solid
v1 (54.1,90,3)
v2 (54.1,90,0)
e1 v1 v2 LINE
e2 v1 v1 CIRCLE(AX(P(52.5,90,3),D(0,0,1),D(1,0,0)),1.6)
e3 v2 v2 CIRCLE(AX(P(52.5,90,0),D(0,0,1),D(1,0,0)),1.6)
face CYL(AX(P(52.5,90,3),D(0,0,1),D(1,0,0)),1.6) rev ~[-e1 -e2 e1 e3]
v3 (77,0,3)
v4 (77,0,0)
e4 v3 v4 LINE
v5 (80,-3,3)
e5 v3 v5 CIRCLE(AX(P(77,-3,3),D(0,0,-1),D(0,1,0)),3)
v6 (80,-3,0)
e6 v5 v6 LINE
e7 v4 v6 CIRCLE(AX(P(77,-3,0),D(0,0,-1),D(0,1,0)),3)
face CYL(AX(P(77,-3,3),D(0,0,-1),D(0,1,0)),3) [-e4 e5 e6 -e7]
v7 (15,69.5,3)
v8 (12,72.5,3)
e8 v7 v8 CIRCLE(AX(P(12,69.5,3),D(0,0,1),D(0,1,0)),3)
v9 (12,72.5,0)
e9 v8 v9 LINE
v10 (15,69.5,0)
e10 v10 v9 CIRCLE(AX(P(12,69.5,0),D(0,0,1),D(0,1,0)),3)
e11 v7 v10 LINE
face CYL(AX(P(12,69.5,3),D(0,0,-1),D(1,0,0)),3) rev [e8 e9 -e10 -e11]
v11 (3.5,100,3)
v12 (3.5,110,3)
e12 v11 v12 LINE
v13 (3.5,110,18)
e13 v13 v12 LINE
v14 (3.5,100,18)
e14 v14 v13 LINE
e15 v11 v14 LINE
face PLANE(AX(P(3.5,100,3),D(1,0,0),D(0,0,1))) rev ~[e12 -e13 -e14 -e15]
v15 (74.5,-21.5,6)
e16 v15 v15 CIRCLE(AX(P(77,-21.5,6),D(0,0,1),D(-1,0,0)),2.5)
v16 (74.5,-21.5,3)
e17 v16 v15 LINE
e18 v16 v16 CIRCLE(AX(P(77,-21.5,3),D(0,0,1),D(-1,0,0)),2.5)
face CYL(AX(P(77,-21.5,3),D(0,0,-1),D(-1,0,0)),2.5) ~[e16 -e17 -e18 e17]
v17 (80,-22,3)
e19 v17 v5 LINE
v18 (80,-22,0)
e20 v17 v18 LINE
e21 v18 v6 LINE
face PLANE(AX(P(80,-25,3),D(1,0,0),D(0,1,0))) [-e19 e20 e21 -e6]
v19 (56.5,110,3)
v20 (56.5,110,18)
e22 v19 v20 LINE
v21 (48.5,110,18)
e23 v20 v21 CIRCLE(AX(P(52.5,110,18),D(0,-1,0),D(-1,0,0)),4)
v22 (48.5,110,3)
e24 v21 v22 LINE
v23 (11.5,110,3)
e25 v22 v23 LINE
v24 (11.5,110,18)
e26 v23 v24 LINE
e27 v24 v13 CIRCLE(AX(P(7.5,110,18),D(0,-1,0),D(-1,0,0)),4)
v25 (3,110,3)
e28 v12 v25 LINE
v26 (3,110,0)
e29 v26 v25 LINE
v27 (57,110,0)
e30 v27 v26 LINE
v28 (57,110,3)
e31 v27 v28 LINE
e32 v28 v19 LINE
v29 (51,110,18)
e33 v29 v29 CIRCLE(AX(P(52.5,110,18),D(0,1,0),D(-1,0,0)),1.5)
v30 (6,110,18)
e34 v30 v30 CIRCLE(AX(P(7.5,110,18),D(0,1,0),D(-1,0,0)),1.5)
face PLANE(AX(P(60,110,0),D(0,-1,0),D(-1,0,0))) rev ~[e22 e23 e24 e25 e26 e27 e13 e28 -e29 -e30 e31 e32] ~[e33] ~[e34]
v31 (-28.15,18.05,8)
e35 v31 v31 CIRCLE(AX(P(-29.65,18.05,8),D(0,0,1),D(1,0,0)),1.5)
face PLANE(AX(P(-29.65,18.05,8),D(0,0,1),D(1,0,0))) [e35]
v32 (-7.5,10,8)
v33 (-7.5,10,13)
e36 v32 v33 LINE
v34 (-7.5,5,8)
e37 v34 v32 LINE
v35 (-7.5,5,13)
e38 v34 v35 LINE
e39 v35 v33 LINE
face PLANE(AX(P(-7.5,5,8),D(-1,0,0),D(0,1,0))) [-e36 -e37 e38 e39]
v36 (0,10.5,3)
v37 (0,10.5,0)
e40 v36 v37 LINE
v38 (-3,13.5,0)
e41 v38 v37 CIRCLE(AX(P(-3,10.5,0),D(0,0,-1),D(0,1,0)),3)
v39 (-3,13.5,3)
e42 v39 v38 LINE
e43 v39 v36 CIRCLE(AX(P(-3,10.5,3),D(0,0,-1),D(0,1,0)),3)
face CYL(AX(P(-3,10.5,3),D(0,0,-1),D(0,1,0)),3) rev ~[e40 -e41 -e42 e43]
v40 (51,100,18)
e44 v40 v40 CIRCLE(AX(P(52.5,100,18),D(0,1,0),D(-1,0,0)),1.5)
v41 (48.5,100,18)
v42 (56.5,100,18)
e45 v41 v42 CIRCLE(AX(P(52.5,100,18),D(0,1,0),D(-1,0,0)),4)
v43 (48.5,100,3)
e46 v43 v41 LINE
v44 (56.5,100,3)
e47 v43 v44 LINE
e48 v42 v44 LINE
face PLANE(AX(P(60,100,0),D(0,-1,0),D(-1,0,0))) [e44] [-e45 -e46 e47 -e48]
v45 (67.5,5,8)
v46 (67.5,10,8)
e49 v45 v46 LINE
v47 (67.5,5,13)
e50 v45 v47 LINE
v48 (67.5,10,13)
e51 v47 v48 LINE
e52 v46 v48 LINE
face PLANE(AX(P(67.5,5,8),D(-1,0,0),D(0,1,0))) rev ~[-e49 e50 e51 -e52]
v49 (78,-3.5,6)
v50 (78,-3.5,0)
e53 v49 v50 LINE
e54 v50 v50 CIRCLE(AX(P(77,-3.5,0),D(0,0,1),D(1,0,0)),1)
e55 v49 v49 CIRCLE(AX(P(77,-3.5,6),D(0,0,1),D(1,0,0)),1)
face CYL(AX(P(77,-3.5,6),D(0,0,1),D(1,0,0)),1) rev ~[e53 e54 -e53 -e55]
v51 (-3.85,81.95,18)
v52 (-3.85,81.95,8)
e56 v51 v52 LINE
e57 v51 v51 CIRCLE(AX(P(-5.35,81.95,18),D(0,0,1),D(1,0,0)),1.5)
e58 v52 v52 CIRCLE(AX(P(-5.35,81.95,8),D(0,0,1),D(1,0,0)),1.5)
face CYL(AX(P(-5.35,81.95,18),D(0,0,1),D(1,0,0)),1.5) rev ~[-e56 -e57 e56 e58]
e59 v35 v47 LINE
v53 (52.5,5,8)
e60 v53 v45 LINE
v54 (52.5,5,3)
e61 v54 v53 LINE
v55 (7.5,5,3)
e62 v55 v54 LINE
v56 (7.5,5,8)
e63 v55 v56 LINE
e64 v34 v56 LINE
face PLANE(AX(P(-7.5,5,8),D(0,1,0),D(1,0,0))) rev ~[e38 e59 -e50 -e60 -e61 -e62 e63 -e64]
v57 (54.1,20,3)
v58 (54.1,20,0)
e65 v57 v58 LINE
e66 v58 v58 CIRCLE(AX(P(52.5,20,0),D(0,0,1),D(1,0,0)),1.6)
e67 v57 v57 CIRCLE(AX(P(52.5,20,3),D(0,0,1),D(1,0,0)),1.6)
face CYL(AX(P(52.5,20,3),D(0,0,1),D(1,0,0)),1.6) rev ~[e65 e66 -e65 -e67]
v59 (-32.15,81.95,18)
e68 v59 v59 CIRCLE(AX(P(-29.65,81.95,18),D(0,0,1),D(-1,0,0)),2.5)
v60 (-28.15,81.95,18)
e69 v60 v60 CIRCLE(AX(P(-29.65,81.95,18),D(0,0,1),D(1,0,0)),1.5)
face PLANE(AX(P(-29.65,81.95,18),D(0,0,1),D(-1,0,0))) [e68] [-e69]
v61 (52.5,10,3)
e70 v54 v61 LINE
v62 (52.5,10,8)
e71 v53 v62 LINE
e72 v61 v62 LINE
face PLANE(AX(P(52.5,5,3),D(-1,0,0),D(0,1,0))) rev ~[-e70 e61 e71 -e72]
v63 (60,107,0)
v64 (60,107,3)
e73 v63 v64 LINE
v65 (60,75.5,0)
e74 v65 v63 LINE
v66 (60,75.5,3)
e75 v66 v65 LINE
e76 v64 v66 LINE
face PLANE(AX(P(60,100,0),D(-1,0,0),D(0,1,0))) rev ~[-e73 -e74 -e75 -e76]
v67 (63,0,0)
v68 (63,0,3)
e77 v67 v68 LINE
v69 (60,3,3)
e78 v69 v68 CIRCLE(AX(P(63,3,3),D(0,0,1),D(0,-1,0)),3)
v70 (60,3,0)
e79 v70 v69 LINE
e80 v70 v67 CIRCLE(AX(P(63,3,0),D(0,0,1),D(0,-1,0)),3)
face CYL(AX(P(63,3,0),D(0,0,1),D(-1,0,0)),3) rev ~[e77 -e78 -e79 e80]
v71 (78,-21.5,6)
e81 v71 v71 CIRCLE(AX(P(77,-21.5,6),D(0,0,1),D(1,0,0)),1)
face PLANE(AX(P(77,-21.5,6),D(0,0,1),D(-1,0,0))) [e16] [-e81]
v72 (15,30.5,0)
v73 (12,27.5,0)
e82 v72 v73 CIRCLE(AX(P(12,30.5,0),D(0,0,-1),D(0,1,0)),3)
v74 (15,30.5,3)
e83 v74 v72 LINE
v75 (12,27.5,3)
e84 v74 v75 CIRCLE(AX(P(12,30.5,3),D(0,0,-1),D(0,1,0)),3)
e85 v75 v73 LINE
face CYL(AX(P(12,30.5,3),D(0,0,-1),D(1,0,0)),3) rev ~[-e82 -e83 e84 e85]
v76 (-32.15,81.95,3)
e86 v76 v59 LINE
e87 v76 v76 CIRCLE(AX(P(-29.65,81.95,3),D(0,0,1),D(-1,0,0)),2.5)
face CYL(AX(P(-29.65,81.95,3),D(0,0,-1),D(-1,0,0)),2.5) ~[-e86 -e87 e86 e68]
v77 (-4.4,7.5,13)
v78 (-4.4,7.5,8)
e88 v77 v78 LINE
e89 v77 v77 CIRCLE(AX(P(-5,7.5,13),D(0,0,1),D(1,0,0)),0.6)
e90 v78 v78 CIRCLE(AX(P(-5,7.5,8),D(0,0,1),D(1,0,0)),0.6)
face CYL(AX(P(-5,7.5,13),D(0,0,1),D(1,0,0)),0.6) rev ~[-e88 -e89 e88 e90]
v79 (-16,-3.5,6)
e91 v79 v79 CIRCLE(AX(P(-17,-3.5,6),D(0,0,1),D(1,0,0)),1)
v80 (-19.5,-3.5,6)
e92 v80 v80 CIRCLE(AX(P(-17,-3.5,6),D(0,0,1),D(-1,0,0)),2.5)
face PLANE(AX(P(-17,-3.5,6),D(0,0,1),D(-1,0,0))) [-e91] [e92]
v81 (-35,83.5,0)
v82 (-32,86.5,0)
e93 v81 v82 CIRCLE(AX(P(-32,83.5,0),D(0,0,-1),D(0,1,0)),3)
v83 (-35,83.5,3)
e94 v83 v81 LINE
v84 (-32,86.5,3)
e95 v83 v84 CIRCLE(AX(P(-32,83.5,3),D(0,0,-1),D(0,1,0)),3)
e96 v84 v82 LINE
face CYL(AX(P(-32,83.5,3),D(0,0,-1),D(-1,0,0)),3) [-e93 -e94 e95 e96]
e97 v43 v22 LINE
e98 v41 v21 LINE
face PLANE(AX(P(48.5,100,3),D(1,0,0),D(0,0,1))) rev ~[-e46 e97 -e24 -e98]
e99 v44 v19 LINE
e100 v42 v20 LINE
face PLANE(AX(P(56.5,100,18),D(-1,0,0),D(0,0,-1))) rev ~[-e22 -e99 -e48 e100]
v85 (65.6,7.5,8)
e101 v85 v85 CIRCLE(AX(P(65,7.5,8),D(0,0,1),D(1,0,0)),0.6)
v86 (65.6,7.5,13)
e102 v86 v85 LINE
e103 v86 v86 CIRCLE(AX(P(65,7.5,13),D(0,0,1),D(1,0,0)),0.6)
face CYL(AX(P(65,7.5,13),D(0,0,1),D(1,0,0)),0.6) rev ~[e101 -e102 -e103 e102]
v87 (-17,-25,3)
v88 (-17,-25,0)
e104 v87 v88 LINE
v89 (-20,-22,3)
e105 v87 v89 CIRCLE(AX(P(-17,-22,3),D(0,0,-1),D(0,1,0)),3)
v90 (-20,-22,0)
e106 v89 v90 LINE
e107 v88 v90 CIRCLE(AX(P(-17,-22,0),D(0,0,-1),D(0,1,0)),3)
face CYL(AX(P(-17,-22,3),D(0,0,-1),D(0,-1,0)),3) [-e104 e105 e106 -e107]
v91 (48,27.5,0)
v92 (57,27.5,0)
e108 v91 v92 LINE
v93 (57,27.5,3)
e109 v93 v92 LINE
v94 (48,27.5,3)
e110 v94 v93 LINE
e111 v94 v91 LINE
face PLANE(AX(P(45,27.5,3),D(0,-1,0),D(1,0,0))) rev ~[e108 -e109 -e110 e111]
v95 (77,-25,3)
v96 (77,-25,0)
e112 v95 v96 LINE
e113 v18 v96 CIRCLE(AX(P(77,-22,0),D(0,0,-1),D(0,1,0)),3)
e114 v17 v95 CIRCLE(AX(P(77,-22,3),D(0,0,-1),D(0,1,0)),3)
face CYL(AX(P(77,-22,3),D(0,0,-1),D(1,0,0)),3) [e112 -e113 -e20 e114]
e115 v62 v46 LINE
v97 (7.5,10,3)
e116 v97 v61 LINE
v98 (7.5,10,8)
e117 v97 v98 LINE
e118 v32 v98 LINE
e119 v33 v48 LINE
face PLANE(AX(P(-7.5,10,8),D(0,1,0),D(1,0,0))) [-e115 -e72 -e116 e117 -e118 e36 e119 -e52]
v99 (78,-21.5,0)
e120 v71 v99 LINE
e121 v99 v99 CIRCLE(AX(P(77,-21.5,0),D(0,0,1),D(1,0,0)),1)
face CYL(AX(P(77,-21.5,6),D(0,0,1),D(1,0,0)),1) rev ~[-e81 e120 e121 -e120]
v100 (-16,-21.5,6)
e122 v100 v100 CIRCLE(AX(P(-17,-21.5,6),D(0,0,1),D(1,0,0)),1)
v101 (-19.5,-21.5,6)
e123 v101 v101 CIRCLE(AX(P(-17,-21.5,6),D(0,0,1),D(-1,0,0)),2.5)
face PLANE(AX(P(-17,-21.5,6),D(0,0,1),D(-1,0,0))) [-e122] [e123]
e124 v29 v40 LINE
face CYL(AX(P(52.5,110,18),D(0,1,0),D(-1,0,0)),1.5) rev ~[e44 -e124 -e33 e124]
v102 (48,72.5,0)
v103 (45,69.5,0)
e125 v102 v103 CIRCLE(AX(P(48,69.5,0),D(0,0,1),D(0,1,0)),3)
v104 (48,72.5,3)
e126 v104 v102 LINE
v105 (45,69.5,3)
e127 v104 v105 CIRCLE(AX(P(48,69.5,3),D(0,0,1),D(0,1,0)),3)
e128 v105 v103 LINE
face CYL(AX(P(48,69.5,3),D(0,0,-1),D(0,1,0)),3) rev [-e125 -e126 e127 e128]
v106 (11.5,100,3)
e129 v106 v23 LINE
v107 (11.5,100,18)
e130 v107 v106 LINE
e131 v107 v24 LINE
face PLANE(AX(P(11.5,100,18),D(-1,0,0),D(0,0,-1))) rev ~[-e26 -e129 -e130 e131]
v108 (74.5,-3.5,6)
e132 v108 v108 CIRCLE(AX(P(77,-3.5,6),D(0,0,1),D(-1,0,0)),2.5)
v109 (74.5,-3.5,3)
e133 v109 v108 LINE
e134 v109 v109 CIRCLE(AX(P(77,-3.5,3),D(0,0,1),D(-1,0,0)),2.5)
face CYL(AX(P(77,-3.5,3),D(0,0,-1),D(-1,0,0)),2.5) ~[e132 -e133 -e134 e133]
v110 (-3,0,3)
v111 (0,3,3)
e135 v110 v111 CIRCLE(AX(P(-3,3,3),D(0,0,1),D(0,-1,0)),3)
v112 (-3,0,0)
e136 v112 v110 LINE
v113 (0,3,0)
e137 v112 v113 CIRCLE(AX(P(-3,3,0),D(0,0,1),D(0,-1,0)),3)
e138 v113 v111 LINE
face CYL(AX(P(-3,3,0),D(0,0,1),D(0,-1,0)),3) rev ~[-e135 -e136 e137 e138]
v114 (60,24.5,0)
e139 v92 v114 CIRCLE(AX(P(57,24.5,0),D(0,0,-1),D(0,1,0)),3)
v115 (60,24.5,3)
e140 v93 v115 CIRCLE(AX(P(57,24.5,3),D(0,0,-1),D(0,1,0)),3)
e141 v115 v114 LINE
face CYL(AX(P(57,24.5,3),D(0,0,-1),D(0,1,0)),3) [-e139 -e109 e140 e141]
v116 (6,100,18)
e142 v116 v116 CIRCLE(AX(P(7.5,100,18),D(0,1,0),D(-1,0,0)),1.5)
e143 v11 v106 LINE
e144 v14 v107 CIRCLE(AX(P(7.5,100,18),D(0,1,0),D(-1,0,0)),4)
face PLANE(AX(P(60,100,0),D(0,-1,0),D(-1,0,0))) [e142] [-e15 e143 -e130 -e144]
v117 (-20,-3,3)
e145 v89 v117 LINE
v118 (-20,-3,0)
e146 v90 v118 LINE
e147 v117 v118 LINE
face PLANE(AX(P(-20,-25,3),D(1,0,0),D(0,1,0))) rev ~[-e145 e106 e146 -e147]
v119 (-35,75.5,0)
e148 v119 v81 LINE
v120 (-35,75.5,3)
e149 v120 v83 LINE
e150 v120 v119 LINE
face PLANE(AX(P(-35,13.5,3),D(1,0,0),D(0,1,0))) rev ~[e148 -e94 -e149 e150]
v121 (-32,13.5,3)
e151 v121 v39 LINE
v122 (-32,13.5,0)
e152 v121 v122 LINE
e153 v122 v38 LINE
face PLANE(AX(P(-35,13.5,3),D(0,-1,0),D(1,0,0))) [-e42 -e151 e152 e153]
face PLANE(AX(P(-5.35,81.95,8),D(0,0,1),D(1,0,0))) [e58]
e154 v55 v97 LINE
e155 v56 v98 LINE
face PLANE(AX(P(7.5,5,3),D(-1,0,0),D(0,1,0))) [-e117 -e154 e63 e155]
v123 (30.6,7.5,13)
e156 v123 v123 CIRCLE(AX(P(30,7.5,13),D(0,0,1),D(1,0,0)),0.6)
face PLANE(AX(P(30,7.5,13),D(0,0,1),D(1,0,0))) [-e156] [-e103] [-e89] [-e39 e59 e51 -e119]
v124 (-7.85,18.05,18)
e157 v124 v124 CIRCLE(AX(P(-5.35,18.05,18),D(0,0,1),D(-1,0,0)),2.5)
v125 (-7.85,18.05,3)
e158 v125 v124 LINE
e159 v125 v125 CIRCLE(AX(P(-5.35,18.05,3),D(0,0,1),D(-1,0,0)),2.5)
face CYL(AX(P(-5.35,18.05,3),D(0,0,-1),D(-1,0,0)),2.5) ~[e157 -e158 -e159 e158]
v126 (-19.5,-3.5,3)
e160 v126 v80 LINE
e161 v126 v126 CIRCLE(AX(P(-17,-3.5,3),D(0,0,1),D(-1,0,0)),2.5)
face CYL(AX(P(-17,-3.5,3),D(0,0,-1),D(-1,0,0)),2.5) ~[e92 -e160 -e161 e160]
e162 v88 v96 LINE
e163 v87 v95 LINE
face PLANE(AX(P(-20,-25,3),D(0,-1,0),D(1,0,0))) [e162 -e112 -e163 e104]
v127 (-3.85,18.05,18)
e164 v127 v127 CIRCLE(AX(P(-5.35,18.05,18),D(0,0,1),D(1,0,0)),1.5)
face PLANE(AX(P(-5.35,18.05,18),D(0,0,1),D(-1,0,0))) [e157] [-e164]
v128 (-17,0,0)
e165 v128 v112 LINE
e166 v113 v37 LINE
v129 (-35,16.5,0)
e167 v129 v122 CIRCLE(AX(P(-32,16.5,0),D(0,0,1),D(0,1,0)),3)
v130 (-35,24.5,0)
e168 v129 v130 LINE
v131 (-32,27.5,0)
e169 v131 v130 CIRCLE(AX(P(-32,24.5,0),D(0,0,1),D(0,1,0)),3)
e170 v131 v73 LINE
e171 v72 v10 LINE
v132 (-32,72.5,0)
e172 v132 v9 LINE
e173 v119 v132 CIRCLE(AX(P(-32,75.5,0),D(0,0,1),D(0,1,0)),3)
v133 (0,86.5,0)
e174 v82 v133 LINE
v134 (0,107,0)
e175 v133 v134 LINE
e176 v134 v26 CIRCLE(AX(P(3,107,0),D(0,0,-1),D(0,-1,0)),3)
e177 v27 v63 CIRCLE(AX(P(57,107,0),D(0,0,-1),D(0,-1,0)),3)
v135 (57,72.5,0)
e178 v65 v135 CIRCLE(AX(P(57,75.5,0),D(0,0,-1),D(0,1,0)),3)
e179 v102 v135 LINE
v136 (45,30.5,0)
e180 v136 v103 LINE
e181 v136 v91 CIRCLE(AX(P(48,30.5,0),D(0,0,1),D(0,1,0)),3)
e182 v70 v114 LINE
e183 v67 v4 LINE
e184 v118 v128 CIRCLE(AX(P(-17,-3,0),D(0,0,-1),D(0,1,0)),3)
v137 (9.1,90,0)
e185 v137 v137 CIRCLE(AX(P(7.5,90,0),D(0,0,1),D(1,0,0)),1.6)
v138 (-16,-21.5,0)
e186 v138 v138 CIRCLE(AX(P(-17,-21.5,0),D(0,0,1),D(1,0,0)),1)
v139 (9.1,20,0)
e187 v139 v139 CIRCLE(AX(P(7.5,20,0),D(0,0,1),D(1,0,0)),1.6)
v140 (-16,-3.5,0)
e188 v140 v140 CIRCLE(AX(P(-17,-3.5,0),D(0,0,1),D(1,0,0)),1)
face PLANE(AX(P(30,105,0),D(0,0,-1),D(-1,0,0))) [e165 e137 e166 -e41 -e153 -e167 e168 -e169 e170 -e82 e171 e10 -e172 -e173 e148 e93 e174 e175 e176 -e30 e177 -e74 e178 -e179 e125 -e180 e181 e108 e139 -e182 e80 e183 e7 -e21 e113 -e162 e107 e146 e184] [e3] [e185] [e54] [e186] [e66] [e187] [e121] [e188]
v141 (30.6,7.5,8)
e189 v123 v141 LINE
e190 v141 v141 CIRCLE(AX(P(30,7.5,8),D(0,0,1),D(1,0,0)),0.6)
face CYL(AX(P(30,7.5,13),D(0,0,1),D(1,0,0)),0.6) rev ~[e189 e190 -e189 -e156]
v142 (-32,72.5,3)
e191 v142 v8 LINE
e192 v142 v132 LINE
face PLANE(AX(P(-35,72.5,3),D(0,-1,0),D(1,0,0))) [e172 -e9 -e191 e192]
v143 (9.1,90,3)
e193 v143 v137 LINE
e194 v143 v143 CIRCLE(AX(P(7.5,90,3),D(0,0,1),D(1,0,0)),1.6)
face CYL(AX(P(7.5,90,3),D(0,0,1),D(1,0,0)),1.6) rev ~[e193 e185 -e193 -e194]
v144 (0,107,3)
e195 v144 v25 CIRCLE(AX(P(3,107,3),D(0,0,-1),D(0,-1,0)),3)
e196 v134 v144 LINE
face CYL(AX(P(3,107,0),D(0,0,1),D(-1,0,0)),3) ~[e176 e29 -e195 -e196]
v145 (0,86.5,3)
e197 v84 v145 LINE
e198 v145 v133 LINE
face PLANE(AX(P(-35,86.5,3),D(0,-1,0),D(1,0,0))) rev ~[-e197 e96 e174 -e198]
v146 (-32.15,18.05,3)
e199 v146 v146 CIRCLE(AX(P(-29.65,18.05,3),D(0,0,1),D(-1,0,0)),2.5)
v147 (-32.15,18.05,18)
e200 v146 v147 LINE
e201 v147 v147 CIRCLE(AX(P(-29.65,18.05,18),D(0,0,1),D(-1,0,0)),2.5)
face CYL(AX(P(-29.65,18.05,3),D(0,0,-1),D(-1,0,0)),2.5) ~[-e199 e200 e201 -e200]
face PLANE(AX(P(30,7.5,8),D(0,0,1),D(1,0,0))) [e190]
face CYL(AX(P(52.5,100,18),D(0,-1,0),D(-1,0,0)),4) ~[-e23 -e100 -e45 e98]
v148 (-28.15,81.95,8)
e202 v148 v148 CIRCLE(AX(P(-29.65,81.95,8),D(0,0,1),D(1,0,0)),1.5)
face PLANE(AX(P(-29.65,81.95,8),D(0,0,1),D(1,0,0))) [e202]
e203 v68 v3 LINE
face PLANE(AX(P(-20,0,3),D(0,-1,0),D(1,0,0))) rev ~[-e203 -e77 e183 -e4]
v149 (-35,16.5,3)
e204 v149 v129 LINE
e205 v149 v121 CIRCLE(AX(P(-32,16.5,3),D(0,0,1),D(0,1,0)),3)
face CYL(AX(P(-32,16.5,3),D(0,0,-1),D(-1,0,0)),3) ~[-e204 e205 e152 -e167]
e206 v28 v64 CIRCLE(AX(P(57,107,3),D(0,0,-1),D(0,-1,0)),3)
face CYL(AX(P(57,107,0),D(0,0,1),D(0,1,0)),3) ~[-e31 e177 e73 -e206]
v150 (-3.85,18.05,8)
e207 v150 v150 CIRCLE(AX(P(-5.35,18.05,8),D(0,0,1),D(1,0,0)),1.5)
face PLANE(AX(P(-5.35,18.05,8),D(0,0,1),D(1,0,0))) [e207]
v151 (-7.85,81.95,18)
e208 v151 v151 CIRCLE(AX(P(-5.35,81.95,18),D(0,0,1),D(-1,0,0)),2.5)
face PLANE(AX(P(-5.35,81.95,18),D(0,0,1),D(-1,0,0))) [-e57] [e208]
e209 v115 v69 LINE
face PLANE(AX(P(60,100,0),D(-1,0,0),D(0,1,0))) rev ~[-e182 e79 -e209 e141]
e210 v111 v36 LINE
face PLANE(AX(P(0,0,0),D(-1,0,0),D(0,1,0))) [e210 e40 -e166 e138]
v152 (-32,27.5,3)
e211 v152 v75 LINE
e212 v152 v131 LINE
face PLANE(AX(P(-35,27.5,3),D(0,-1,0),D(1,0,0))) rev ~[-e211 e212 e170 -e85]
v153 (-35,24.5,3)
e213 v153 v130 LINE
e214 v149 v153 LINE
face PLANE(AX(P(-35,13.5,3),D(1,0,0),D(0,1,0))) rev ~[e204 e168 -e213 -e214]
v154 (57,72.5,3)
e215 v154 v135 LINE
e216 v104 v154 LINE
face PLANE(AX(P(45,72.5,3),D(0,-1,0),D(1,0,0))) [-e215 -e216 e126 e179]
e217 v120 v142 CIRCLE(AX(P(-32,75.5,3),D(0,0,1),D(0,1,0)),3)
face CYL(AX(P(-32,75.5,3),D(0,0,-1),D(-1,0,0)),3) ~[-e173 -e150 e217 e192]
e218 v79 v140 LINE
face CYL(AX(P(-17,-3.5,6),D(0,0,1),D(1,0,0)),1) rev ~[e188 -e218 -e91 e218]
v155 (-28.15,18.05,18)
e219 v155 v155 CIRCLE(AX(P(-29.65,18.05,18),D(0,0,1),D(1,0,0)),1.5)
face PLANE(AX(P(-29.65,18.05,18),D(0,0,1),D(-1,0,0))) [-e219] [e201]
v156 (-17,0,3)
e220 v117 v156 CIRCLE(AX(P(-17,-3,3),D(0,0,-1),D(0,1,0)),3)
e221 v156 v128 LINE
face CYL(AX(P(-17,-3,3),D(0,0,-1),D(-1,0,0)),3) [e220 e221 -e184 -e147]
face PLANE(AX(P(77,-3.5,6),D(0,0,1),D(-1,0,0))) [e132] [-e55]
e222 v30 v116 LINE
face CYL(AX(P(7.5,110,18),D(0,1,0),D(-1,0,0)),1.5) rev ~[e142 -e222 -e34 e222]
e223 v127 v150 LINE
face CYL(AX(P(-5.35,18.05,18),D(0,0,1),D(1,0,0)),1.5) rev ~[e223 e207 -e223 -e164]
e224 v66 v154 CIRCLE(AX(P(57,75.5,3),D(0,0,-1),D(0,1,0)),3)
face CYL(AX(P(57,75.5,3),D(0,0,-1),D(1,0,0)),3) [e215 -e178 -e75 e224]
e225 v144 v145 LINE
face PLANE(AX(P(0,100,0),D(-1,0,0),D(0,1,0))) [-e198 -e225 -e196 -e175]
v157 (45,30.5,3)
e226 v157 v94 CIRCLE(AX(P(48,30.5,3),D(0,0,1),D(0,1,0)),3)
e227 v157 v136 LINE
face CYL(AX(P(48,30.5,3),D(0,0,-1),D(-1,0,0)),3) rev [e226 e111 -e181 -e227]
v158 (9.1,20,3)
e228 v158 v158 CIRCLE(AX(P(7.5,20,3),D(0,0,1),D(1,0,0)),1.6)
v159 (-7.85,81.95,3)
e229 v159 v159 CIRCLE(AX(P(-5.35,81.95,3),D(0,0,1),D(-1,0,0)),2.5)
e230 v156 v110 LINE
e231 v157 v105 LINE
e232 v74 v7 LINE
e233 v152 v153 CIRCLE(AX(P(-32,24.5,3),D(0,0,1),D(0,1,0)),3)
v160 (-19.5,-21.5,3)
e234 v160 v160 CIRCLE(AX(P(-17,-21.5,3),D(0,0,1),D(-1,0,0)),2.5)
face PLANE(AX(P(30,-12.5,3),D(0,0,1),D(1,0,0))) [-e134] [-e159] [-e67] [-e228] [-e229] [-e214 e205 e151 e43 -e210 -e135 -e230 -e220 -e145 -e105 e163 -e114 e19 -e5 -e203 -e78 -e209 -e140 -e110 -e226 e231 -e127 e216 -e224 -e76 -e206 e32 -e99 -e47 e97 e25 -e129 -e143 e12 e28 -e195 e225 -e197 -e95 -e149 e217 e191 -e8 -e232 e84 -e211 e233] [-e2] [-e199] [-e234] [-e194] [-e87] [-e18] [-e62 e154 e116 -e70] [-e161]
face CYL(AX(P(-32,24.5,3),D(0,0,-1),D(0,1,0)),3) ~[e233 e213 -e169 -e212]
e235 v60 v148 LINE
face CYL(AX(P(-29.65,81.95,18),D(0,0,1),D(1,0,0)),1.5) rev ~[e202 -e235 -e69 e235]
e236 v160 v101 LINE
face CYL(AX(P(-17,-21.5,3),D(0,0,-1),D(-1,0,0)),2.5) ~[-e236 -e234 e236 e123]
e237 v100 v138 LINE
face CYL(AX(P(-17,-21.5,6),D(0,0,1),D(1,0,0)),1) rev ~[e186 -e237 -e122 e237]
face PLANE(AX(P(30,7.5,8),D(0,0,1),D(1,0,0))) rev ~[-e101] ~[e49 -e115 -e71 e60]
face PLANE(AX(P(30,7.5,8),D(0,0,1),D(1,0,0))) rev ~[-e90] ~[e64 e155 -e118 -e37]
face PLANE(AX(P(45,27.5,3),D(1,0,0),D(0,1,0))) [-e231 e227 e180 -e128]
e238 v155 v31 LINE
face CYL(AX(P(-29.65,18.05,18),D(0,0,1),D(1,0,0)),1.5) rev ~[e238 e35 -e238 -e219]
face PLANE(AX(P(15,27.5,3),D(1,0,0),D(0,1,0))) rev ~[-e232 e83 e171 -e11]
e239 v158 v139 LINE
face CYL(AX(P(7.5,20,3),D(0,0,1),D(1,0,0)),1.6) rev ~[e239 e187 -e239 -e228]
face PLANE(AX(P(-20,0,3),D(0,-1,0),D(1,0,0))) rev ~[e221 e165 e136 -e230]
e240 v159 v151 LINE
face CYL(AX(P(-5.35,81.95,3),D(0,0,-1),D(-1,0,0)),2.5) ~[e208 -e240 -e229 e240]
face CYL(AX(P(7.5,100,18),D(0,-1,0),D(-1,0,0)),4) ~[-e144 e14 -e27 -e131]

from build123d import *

# Parameters (mm, degrees)
SKETCH_1_W          = 60
SKETCH_1_H          = 100
EXTRUDE_1_DEPTH     = 3
CUT_EXTRUDE_1_REACH = 118.658
SKETCH_2_R          = 1.6
SKETCH_3_W          = 100
SKETCH_3_H          = 25
EXTRUDE_2_DEPTH     = 3
SKETCH_4_R          = 2.5
EXTRUDE_3_DEPTH     = 3
SKETCH_5_R          = 1
CUT_EXTRUDE_2_DEPTH = 129.202964084
SKETCH_6_W          = 45
SKETCH_6_H          = 5
EXTRUDE_4_DEPTH     = 5
SKETCH_7_W          = 75
SKETCH_7_H          = 5
EXTRUDE_5_DEPTH     = 5
SKETCH_8_R          = 0.6
CUT_EXTRUDE_3_DEPTH = 5
SKETCH_9_W          = 35
SKETCH_9_H          = 73
EXTRUDE_6_DEPTH     = 3
SKETCH_10_R         = 2.5
EXTRUDE_7_DEPTH     = 15
SKETCH_11_R         = 1.5
CUT_EXTRUDE_4_DEPTH = 10
SKETCH_12_W         = 60
SKETCH_12_H         = 10
EXTRUDE_8_DEPTH     = 28
CUT_EXTRUDE_5_REACH = 153.026
CUT_EXTRUDE_6_REACH = 160.458
SKETCH_14_R         = 1.5
CUT_EXTRUDE_7_REACH = 139.335
SKETCH_15_W         = 50
SKETCH_15_H         = 45
SKETCH_15_W_2       = 15
FILLET_1_R          = 3
FILLET_2_R          = 3
FILLET_3_R          = 3
FILLET_4_R          = 3
FILLET_5_R          = 3
FILLET_6_R          = 3


with BuildPart() as part:
    # 草图1 → 凸台-拉伸1 (new body)
    with BuildSketch(Plane.XY):
        with Locations((30, 50)):
            Rectangle(SKETCH_1_W, SKETCH_1_H)
    extrude(amount=EXTRUDE_1_DEPTH)

    # 草图2 → 切除-拉伸1 (cut, up to next)
    with BuildSketch(Plane.XY.offset(3), mode=Mode.PRIVATE) as cut_extrude_1_sk1:
        with Locations((7.5, 90)):
            Circle(SKETCH_2_R)
    cut_extrude_1_tool1 = extrude(cut_extrude_1_sk1.sketch, amount=-CUT_EXTRUDE_1_REACH, mode=Mode.PRIVATE) & part.part
    # 草图2 → 切除-拉伸1 (cut, up to next)
    with BuildSketch(Plane.XY.offset(3), mode=Mode.PRIVATE) as cut_extrude_1_sk2:
        with Locations((52.5, 90)):
            Circle(SKETCH_2_R)
    cut_extrude_1_tool2 = extrude(cut_extrude_1_sk2.sketch, amount=-CUT_EXTRUDE_1_REACH, mode=Mode.PRIVATE) & part.part
    # 草图2 → 切除-拉伸1 (cut, up to next)
    with BuildSketch(Plane.XY.offset(3), mode=Mode.PRIVATE) as cut_extrude_1_sk3:
        with Locations((52.5, 20)):
            Circle(SKETCH_2_R)
    cut_extrude_1_tool3 = extrude(cut_extrude_1_sk3.sketch, amount=-CUT_EXTRUDE_1_REACH, mode=Mode.PRIVATE) & part.part
    # 草图2 → 切除-拉伸1 (cut, up to next)
    with BuildSketch(Plane.XY.offset(3), mode=Mode.PRIVATE) as cut_extrude_1_sk4:
        with Locations((7.5, 20)):
            Circle(SKETCH_2_R)
    cut_extrude_1_tool4 = extrude(cut_extrude_1_sk4.sketch, amount=-CUT_EXTRUDE_1_REACH, mode=Mode.PRIVATE) & part.part
    add(cut_extrude_1_tool1.solids().sort_by_distance((7.5, 90, 3))[0], mode=Mode.SUBTRACT)
    add(cut_extrude_1_tool2.solids().sort_by_distance((52.5, 90, 3))[0], mode=Mode.SUBTRACT)
    add(cut_extrude_1_tool3.solids().sort_by_distance((52.5, 20, 3))[0], mode=Mode.SUBTRACT)
    add(cut_extrude_1_tool4.solids().sort_by_distance((7.5, 20, 3))[0], mode=Mode.SUBTRACT)

    # 草图3 → 凸台-拉伸2 (add)
    with BuildSketch(Plane.XY.offset(3)):
        with Locations((30, -12.5)):
            Rectangle(SKETCH_3_W, SKETCH_3_H)
    extrude(amount=-EXTRUDE_2_DEPTH)

    # 草图4 → 凸台-拉伸3 (add)
    with BuildSketch(Plane.XY.offset(3)):
        with Locations(Location((-17, -3.5, 0), (0, 0, 180))):
            Circle(SKETCH_4_R)
        with Locations(Location((-17, -21.5, 0), (0, 0, 180))):
            Circle(SKETCH_4_R)
        with Locations(Location((77, -21.5, 0), (0, 0, 180))):
            Circle(SKETCH_4_R)
        with Locations(Location((77, -3.5, 0), (0, 0, 180))):
            Circle(SKETCH_4_R)
    extrude(amount=EXTRUDE_3_DEPTH)

    # 草图5 → 切除-拉伸2 (cut, through all)
    with BuildSketch(Plane.XY.offset(6)):
        with Locations((-17, -3.5)):
            Circle(SKETCH_5_R)
        with Locations((-17, -21.5)):
            Circle(SKETCH_5_R)
        with Locations((77, -21.5)):
            Circle(SKETCH_5_R)
        with Locations((77, -3.5)):
            Circle(SKETCH_5_R)
    extrude(amount=-CUT_EXTRUDE_2_DEPTH, mode=Mode.SUBTRACT)

    # 草图6 → 凸台-拉伸4 (add)
    with BuildSketch(Plane.XY.offset(3)):
        with Locations((30, 7.5)):
            Rectangle(SKETCH_6_W, SKETCH_6_H)
    extrude(amount=EXTRUDE_4_DEPTH)

    # 草图7 → 凸台-拉伸5 (add)
    with BuildSketch(Plane.XY.offset(8)):
        with Locations((30, 7.5)):
            Rectangle(SKETCH_7_W, SKETCH_7_H)
    extrude(amount=EXTRUDE_5_DEPTH)

    # 草图8 → 切除-拉伸3 (cut)
    with BuildSketch(Plane.XY.offset(13)):
        with Locations((-5, 7.5)):
            Circle(SKETCH_8_R)
        with Locations((30, 7.5)):
            Circle(SKETCH_8_R)
        with Locations((65, 7.5)):
            Circle(SKETCH_8_R)
    extrude(amount=-CUT_EXTRUDE_3_DEPTH, mode=Mode.SUBTRACT)

    # 草图9 → 凸台-拉伸6 (add)
    with BuildSketch(Plane.XY.offset(3)):
        with Locations((-17.5, 50)):
            Rectangle(SKETCH_9_W, SKETCH_9_H)
    extrude(amount=-EXTRUDE_6_DEPTH)

    # 草图10 → 凸台-拉伸7 (add)
    with BuildSketch(Plane.XY.offset(3)):
        with Locations(Location((-29.65, 81.95, 0), (0, 0, 180))):
            Circle(SKETCH_10_R)
        with Locations(Location((-5.35, 81.95, 0), (0, 0, 180))):
            Circle(SKETCH_10_R)
        with Locations(Location((-5.35, 18.05, 0), (0, 0, 180))):
            Circle(SKETCH_10_R)
        with Locations(Location((-29.65, 18.05, 0), (0, 0, 180))):
            Circle(SKETCH_10_R)
    extrude(amount=EXTRUDE_7_DEPTH)

    # 草图11 → 切除-拉伸4 (cut)
    with BuildSketch(Plane.XY.offset(18)):
        with Locations((-29.65, 81.95)):
            Circle(SKETCH_11_R)
        with Locations((-5.35, 81.95)):
            Circle(SKETCH_11_R)
        with Locations((-5.35, 18.05)):
            Circle(SKETCH_11_R)
        with Locations((-29.65, 18.05)):
            Circle(SKETCH_11_R)
    extrude(amount=-CUT_EXTRUDE_4_DEPTH, mode=Mode.SUBTRACT)

    # 草图12 → 凸台-拉伸8 (add)
    with BuildSketch(Plane(origin=(0, 0, 0), x_dir=(-1, 0, 0), z_dir=(0, 0, -1))):
        with Locations((-30, 105)):
            Rectangle(SKETCH_12_W, SKETCH_12_H)
    extrude(amount=-EXTRUDE_8_DEPTH)

    # 草图13 → 切除-拉伸5 (cut, up to next)
    with BuildSketch(Plane.XZ.offset(-100), mode=Mode.PRIVATE) as cut_extrude_5_sk1:
        with BuildLine():
            Line((3.5, 3), (3.5, 18))
            ThreePointArc((3.5, 18), (7.5, 22), (11.5, 18))
            Line((11.5, 18), (11.5, 3))
            Line((11.5, 3), (48.5, 3))
            Line((48.5, 3), (48.5, 18))
            ThreePointArc((48.5, 18), (52.5, 22), (56.5, 18))
            Line((56.5, 18), (56.5, 3))
            Line((56.5, 3), (60, 3))
            Line((60, 3), (60, 28))
            Line((60, 28), (0, 28))
            Line((0, 28), (0, 3))
            Line((0, 3), (3.5, 3))
        make_face()
    cut_extrude_5_tool1 = extrude(cut_extrude_5_sk1.sketch, amount=-CUT_EXTRUDE_5_REACH, mode=Mode.PRIVATE) & part.part
    add(cut_extrude_5_tool1.solids().sort_by_distance((30, 100, 16.317537))[0], mode=Mode.SUBTRACT)

    # 草图14 → 切除-拉伸6 (cut, up to next)
    with BuildSketch(Plane(origin=(0, 110, 0), x_dir=(1, 0, 0), z_dir=(0, 1, 0)), mode=Mode.PRIVATE) as cut_extrude_6_sk1:
        with Locations(Location((7.5, -18, 0), (0, 0, 180))):
            Circle(SKETCH_14_R)
    cut_extrude_6_tool1 = extrude(cut_extrude_6_sk1.sketch, amount=-CUT_EXTRUDE_6_REACH, mode=Mode.PRIVATE) & part.part
    # 草图14 → 切除-拉伸6 (cut, up to next)
    with BuildSketch(Plane(origin=(0, 110, 0), x_dir=(1, 0, 0), z_dir=(0, 1, 0)), mode=Mode.PRIVATE) as cut_extrude_6_sk2:
        with Locations(Location((52.5, -18, 0), (0, 0, 180))):
            Circle(SKETCH_14_R)
    cut_extrude_6_tool2 = extrude(cut_extrude_6_sk2.sketch, amount=-CUT_EXTRUDE_6_REACH, mode=Mode.PRIVATE) & part.part
    add(cut_extrude_6_tool1.solids().sort_by_distance((7.5, 110, 18))[0], mode=Mode.SUBTRACT)
    add(cut_extrude_6_tool2.solids().sort_by_distance((52.5, 110, 18))[0], mode=Mode.SUBTRACT)

    # 草图15 → 切除-拉伸7 (cut, up to next)
    with BuildSketch(Plane.XY.offset(3), mode=Mode.PRIVATE) as cut_extrude_7_sk1:
        with Locations((-10, 50)):
            Rectangle(SKETCH_15_W, SKETCH_15_H)
    cut_extrude_7_tool1 = extrude(cut_extrude_7_sk1.sketch, amount=-CUT_EXTRUDE_7_REACH, mode=Mode.PRIVATE) & part.part
    # 草图15 → 切除-拉伸7 (cut, up to next)
    with BuildSketch(Plane.XY.offset(3), mode=Mode.PRIVATE) as cut_extrude_7_sk2:
        with Locations((52.5, 50)):
            Rectangle(SKETCH_15_W_2, SKETCH_15_H)
    cut_extrude_7_tool2 = extrude(cut_extrude_7_sk2.sketch, amount=-CUT_EXTRUDE_7_REACH, mode=Mode.PRIVATE) & part.part
    add(cut_extrude_7_tool1.solids().sort_by_distance((-10, 50, 3))[0], mode=Mode.SUBTRACT)
    add(cut_extrude_7_tool2.solids().sort_by_distance((52.5, 50, 3))[0], mode=Mode.SUBTRACT)

    # 圆角1
    fillet_1_edges = [part.edges().sort_by_distance(p)[0] for p in [
        (15, 27.5, 1.5),
    ]]
    fillet(fillet_1_edges, radius=FILLET_1_R)

    # 圆角2
    fillet_2_edges = [part.edges().sort_by_distance(p)[0] for p in [
        (15, 72.5, 1.5),
    ]]
    fillet(fillet_2_edges, radius=FILLET_2_R)

    # 圆角3
    fillet_3_edges = [part.edges().sort_by_distance(p)[0] for p in [
        (-35, 86.5, 1.5),
    ]]
    fillet(fillet_3_edges, radius=FILLET_3_R)

    # 圆角4
    fillet_4_edges = [part.edges().sort_by_distance(p)[0] for p in [
        (-35, 72.5, 1.5),
    ]]
    fillet(fillet_4_edges, radius=FILLET_4_R)

    # 圆角5
    fillet_5_edges = [part.edges().sort_by_distance(p)[0] for p in [
        (0, 110, 1.5),
    ]]
    fillet(fillet_5_edges, radius=FILLET_5_R)

    # 圆角6
    fillet_6_edges = [part.edges().sort_by_distance(p)[0] for p in [
        (-35, 13.5, 1.5),
        (0, 13.5, 1.5),
        (60, 110, 1.5),
        (-35, 27.5, 1.5),
        (45, 72.5, 1.5),
        (60, 72.5, 1.5),
        (60, 27.5, 1.5),
        (45, 27.5, 1.5),
        (-20, -25, 1.5),
        (-20, 0, 1.5),
        (80, 0, 1.5),
        (80, -25, 1.5),
        (60, 0, 1.5),
        (0, 0, 1.5),
    ]]
    fillet(fillet_6_edges, radius=FILLET_6_R)


solid = part.part
